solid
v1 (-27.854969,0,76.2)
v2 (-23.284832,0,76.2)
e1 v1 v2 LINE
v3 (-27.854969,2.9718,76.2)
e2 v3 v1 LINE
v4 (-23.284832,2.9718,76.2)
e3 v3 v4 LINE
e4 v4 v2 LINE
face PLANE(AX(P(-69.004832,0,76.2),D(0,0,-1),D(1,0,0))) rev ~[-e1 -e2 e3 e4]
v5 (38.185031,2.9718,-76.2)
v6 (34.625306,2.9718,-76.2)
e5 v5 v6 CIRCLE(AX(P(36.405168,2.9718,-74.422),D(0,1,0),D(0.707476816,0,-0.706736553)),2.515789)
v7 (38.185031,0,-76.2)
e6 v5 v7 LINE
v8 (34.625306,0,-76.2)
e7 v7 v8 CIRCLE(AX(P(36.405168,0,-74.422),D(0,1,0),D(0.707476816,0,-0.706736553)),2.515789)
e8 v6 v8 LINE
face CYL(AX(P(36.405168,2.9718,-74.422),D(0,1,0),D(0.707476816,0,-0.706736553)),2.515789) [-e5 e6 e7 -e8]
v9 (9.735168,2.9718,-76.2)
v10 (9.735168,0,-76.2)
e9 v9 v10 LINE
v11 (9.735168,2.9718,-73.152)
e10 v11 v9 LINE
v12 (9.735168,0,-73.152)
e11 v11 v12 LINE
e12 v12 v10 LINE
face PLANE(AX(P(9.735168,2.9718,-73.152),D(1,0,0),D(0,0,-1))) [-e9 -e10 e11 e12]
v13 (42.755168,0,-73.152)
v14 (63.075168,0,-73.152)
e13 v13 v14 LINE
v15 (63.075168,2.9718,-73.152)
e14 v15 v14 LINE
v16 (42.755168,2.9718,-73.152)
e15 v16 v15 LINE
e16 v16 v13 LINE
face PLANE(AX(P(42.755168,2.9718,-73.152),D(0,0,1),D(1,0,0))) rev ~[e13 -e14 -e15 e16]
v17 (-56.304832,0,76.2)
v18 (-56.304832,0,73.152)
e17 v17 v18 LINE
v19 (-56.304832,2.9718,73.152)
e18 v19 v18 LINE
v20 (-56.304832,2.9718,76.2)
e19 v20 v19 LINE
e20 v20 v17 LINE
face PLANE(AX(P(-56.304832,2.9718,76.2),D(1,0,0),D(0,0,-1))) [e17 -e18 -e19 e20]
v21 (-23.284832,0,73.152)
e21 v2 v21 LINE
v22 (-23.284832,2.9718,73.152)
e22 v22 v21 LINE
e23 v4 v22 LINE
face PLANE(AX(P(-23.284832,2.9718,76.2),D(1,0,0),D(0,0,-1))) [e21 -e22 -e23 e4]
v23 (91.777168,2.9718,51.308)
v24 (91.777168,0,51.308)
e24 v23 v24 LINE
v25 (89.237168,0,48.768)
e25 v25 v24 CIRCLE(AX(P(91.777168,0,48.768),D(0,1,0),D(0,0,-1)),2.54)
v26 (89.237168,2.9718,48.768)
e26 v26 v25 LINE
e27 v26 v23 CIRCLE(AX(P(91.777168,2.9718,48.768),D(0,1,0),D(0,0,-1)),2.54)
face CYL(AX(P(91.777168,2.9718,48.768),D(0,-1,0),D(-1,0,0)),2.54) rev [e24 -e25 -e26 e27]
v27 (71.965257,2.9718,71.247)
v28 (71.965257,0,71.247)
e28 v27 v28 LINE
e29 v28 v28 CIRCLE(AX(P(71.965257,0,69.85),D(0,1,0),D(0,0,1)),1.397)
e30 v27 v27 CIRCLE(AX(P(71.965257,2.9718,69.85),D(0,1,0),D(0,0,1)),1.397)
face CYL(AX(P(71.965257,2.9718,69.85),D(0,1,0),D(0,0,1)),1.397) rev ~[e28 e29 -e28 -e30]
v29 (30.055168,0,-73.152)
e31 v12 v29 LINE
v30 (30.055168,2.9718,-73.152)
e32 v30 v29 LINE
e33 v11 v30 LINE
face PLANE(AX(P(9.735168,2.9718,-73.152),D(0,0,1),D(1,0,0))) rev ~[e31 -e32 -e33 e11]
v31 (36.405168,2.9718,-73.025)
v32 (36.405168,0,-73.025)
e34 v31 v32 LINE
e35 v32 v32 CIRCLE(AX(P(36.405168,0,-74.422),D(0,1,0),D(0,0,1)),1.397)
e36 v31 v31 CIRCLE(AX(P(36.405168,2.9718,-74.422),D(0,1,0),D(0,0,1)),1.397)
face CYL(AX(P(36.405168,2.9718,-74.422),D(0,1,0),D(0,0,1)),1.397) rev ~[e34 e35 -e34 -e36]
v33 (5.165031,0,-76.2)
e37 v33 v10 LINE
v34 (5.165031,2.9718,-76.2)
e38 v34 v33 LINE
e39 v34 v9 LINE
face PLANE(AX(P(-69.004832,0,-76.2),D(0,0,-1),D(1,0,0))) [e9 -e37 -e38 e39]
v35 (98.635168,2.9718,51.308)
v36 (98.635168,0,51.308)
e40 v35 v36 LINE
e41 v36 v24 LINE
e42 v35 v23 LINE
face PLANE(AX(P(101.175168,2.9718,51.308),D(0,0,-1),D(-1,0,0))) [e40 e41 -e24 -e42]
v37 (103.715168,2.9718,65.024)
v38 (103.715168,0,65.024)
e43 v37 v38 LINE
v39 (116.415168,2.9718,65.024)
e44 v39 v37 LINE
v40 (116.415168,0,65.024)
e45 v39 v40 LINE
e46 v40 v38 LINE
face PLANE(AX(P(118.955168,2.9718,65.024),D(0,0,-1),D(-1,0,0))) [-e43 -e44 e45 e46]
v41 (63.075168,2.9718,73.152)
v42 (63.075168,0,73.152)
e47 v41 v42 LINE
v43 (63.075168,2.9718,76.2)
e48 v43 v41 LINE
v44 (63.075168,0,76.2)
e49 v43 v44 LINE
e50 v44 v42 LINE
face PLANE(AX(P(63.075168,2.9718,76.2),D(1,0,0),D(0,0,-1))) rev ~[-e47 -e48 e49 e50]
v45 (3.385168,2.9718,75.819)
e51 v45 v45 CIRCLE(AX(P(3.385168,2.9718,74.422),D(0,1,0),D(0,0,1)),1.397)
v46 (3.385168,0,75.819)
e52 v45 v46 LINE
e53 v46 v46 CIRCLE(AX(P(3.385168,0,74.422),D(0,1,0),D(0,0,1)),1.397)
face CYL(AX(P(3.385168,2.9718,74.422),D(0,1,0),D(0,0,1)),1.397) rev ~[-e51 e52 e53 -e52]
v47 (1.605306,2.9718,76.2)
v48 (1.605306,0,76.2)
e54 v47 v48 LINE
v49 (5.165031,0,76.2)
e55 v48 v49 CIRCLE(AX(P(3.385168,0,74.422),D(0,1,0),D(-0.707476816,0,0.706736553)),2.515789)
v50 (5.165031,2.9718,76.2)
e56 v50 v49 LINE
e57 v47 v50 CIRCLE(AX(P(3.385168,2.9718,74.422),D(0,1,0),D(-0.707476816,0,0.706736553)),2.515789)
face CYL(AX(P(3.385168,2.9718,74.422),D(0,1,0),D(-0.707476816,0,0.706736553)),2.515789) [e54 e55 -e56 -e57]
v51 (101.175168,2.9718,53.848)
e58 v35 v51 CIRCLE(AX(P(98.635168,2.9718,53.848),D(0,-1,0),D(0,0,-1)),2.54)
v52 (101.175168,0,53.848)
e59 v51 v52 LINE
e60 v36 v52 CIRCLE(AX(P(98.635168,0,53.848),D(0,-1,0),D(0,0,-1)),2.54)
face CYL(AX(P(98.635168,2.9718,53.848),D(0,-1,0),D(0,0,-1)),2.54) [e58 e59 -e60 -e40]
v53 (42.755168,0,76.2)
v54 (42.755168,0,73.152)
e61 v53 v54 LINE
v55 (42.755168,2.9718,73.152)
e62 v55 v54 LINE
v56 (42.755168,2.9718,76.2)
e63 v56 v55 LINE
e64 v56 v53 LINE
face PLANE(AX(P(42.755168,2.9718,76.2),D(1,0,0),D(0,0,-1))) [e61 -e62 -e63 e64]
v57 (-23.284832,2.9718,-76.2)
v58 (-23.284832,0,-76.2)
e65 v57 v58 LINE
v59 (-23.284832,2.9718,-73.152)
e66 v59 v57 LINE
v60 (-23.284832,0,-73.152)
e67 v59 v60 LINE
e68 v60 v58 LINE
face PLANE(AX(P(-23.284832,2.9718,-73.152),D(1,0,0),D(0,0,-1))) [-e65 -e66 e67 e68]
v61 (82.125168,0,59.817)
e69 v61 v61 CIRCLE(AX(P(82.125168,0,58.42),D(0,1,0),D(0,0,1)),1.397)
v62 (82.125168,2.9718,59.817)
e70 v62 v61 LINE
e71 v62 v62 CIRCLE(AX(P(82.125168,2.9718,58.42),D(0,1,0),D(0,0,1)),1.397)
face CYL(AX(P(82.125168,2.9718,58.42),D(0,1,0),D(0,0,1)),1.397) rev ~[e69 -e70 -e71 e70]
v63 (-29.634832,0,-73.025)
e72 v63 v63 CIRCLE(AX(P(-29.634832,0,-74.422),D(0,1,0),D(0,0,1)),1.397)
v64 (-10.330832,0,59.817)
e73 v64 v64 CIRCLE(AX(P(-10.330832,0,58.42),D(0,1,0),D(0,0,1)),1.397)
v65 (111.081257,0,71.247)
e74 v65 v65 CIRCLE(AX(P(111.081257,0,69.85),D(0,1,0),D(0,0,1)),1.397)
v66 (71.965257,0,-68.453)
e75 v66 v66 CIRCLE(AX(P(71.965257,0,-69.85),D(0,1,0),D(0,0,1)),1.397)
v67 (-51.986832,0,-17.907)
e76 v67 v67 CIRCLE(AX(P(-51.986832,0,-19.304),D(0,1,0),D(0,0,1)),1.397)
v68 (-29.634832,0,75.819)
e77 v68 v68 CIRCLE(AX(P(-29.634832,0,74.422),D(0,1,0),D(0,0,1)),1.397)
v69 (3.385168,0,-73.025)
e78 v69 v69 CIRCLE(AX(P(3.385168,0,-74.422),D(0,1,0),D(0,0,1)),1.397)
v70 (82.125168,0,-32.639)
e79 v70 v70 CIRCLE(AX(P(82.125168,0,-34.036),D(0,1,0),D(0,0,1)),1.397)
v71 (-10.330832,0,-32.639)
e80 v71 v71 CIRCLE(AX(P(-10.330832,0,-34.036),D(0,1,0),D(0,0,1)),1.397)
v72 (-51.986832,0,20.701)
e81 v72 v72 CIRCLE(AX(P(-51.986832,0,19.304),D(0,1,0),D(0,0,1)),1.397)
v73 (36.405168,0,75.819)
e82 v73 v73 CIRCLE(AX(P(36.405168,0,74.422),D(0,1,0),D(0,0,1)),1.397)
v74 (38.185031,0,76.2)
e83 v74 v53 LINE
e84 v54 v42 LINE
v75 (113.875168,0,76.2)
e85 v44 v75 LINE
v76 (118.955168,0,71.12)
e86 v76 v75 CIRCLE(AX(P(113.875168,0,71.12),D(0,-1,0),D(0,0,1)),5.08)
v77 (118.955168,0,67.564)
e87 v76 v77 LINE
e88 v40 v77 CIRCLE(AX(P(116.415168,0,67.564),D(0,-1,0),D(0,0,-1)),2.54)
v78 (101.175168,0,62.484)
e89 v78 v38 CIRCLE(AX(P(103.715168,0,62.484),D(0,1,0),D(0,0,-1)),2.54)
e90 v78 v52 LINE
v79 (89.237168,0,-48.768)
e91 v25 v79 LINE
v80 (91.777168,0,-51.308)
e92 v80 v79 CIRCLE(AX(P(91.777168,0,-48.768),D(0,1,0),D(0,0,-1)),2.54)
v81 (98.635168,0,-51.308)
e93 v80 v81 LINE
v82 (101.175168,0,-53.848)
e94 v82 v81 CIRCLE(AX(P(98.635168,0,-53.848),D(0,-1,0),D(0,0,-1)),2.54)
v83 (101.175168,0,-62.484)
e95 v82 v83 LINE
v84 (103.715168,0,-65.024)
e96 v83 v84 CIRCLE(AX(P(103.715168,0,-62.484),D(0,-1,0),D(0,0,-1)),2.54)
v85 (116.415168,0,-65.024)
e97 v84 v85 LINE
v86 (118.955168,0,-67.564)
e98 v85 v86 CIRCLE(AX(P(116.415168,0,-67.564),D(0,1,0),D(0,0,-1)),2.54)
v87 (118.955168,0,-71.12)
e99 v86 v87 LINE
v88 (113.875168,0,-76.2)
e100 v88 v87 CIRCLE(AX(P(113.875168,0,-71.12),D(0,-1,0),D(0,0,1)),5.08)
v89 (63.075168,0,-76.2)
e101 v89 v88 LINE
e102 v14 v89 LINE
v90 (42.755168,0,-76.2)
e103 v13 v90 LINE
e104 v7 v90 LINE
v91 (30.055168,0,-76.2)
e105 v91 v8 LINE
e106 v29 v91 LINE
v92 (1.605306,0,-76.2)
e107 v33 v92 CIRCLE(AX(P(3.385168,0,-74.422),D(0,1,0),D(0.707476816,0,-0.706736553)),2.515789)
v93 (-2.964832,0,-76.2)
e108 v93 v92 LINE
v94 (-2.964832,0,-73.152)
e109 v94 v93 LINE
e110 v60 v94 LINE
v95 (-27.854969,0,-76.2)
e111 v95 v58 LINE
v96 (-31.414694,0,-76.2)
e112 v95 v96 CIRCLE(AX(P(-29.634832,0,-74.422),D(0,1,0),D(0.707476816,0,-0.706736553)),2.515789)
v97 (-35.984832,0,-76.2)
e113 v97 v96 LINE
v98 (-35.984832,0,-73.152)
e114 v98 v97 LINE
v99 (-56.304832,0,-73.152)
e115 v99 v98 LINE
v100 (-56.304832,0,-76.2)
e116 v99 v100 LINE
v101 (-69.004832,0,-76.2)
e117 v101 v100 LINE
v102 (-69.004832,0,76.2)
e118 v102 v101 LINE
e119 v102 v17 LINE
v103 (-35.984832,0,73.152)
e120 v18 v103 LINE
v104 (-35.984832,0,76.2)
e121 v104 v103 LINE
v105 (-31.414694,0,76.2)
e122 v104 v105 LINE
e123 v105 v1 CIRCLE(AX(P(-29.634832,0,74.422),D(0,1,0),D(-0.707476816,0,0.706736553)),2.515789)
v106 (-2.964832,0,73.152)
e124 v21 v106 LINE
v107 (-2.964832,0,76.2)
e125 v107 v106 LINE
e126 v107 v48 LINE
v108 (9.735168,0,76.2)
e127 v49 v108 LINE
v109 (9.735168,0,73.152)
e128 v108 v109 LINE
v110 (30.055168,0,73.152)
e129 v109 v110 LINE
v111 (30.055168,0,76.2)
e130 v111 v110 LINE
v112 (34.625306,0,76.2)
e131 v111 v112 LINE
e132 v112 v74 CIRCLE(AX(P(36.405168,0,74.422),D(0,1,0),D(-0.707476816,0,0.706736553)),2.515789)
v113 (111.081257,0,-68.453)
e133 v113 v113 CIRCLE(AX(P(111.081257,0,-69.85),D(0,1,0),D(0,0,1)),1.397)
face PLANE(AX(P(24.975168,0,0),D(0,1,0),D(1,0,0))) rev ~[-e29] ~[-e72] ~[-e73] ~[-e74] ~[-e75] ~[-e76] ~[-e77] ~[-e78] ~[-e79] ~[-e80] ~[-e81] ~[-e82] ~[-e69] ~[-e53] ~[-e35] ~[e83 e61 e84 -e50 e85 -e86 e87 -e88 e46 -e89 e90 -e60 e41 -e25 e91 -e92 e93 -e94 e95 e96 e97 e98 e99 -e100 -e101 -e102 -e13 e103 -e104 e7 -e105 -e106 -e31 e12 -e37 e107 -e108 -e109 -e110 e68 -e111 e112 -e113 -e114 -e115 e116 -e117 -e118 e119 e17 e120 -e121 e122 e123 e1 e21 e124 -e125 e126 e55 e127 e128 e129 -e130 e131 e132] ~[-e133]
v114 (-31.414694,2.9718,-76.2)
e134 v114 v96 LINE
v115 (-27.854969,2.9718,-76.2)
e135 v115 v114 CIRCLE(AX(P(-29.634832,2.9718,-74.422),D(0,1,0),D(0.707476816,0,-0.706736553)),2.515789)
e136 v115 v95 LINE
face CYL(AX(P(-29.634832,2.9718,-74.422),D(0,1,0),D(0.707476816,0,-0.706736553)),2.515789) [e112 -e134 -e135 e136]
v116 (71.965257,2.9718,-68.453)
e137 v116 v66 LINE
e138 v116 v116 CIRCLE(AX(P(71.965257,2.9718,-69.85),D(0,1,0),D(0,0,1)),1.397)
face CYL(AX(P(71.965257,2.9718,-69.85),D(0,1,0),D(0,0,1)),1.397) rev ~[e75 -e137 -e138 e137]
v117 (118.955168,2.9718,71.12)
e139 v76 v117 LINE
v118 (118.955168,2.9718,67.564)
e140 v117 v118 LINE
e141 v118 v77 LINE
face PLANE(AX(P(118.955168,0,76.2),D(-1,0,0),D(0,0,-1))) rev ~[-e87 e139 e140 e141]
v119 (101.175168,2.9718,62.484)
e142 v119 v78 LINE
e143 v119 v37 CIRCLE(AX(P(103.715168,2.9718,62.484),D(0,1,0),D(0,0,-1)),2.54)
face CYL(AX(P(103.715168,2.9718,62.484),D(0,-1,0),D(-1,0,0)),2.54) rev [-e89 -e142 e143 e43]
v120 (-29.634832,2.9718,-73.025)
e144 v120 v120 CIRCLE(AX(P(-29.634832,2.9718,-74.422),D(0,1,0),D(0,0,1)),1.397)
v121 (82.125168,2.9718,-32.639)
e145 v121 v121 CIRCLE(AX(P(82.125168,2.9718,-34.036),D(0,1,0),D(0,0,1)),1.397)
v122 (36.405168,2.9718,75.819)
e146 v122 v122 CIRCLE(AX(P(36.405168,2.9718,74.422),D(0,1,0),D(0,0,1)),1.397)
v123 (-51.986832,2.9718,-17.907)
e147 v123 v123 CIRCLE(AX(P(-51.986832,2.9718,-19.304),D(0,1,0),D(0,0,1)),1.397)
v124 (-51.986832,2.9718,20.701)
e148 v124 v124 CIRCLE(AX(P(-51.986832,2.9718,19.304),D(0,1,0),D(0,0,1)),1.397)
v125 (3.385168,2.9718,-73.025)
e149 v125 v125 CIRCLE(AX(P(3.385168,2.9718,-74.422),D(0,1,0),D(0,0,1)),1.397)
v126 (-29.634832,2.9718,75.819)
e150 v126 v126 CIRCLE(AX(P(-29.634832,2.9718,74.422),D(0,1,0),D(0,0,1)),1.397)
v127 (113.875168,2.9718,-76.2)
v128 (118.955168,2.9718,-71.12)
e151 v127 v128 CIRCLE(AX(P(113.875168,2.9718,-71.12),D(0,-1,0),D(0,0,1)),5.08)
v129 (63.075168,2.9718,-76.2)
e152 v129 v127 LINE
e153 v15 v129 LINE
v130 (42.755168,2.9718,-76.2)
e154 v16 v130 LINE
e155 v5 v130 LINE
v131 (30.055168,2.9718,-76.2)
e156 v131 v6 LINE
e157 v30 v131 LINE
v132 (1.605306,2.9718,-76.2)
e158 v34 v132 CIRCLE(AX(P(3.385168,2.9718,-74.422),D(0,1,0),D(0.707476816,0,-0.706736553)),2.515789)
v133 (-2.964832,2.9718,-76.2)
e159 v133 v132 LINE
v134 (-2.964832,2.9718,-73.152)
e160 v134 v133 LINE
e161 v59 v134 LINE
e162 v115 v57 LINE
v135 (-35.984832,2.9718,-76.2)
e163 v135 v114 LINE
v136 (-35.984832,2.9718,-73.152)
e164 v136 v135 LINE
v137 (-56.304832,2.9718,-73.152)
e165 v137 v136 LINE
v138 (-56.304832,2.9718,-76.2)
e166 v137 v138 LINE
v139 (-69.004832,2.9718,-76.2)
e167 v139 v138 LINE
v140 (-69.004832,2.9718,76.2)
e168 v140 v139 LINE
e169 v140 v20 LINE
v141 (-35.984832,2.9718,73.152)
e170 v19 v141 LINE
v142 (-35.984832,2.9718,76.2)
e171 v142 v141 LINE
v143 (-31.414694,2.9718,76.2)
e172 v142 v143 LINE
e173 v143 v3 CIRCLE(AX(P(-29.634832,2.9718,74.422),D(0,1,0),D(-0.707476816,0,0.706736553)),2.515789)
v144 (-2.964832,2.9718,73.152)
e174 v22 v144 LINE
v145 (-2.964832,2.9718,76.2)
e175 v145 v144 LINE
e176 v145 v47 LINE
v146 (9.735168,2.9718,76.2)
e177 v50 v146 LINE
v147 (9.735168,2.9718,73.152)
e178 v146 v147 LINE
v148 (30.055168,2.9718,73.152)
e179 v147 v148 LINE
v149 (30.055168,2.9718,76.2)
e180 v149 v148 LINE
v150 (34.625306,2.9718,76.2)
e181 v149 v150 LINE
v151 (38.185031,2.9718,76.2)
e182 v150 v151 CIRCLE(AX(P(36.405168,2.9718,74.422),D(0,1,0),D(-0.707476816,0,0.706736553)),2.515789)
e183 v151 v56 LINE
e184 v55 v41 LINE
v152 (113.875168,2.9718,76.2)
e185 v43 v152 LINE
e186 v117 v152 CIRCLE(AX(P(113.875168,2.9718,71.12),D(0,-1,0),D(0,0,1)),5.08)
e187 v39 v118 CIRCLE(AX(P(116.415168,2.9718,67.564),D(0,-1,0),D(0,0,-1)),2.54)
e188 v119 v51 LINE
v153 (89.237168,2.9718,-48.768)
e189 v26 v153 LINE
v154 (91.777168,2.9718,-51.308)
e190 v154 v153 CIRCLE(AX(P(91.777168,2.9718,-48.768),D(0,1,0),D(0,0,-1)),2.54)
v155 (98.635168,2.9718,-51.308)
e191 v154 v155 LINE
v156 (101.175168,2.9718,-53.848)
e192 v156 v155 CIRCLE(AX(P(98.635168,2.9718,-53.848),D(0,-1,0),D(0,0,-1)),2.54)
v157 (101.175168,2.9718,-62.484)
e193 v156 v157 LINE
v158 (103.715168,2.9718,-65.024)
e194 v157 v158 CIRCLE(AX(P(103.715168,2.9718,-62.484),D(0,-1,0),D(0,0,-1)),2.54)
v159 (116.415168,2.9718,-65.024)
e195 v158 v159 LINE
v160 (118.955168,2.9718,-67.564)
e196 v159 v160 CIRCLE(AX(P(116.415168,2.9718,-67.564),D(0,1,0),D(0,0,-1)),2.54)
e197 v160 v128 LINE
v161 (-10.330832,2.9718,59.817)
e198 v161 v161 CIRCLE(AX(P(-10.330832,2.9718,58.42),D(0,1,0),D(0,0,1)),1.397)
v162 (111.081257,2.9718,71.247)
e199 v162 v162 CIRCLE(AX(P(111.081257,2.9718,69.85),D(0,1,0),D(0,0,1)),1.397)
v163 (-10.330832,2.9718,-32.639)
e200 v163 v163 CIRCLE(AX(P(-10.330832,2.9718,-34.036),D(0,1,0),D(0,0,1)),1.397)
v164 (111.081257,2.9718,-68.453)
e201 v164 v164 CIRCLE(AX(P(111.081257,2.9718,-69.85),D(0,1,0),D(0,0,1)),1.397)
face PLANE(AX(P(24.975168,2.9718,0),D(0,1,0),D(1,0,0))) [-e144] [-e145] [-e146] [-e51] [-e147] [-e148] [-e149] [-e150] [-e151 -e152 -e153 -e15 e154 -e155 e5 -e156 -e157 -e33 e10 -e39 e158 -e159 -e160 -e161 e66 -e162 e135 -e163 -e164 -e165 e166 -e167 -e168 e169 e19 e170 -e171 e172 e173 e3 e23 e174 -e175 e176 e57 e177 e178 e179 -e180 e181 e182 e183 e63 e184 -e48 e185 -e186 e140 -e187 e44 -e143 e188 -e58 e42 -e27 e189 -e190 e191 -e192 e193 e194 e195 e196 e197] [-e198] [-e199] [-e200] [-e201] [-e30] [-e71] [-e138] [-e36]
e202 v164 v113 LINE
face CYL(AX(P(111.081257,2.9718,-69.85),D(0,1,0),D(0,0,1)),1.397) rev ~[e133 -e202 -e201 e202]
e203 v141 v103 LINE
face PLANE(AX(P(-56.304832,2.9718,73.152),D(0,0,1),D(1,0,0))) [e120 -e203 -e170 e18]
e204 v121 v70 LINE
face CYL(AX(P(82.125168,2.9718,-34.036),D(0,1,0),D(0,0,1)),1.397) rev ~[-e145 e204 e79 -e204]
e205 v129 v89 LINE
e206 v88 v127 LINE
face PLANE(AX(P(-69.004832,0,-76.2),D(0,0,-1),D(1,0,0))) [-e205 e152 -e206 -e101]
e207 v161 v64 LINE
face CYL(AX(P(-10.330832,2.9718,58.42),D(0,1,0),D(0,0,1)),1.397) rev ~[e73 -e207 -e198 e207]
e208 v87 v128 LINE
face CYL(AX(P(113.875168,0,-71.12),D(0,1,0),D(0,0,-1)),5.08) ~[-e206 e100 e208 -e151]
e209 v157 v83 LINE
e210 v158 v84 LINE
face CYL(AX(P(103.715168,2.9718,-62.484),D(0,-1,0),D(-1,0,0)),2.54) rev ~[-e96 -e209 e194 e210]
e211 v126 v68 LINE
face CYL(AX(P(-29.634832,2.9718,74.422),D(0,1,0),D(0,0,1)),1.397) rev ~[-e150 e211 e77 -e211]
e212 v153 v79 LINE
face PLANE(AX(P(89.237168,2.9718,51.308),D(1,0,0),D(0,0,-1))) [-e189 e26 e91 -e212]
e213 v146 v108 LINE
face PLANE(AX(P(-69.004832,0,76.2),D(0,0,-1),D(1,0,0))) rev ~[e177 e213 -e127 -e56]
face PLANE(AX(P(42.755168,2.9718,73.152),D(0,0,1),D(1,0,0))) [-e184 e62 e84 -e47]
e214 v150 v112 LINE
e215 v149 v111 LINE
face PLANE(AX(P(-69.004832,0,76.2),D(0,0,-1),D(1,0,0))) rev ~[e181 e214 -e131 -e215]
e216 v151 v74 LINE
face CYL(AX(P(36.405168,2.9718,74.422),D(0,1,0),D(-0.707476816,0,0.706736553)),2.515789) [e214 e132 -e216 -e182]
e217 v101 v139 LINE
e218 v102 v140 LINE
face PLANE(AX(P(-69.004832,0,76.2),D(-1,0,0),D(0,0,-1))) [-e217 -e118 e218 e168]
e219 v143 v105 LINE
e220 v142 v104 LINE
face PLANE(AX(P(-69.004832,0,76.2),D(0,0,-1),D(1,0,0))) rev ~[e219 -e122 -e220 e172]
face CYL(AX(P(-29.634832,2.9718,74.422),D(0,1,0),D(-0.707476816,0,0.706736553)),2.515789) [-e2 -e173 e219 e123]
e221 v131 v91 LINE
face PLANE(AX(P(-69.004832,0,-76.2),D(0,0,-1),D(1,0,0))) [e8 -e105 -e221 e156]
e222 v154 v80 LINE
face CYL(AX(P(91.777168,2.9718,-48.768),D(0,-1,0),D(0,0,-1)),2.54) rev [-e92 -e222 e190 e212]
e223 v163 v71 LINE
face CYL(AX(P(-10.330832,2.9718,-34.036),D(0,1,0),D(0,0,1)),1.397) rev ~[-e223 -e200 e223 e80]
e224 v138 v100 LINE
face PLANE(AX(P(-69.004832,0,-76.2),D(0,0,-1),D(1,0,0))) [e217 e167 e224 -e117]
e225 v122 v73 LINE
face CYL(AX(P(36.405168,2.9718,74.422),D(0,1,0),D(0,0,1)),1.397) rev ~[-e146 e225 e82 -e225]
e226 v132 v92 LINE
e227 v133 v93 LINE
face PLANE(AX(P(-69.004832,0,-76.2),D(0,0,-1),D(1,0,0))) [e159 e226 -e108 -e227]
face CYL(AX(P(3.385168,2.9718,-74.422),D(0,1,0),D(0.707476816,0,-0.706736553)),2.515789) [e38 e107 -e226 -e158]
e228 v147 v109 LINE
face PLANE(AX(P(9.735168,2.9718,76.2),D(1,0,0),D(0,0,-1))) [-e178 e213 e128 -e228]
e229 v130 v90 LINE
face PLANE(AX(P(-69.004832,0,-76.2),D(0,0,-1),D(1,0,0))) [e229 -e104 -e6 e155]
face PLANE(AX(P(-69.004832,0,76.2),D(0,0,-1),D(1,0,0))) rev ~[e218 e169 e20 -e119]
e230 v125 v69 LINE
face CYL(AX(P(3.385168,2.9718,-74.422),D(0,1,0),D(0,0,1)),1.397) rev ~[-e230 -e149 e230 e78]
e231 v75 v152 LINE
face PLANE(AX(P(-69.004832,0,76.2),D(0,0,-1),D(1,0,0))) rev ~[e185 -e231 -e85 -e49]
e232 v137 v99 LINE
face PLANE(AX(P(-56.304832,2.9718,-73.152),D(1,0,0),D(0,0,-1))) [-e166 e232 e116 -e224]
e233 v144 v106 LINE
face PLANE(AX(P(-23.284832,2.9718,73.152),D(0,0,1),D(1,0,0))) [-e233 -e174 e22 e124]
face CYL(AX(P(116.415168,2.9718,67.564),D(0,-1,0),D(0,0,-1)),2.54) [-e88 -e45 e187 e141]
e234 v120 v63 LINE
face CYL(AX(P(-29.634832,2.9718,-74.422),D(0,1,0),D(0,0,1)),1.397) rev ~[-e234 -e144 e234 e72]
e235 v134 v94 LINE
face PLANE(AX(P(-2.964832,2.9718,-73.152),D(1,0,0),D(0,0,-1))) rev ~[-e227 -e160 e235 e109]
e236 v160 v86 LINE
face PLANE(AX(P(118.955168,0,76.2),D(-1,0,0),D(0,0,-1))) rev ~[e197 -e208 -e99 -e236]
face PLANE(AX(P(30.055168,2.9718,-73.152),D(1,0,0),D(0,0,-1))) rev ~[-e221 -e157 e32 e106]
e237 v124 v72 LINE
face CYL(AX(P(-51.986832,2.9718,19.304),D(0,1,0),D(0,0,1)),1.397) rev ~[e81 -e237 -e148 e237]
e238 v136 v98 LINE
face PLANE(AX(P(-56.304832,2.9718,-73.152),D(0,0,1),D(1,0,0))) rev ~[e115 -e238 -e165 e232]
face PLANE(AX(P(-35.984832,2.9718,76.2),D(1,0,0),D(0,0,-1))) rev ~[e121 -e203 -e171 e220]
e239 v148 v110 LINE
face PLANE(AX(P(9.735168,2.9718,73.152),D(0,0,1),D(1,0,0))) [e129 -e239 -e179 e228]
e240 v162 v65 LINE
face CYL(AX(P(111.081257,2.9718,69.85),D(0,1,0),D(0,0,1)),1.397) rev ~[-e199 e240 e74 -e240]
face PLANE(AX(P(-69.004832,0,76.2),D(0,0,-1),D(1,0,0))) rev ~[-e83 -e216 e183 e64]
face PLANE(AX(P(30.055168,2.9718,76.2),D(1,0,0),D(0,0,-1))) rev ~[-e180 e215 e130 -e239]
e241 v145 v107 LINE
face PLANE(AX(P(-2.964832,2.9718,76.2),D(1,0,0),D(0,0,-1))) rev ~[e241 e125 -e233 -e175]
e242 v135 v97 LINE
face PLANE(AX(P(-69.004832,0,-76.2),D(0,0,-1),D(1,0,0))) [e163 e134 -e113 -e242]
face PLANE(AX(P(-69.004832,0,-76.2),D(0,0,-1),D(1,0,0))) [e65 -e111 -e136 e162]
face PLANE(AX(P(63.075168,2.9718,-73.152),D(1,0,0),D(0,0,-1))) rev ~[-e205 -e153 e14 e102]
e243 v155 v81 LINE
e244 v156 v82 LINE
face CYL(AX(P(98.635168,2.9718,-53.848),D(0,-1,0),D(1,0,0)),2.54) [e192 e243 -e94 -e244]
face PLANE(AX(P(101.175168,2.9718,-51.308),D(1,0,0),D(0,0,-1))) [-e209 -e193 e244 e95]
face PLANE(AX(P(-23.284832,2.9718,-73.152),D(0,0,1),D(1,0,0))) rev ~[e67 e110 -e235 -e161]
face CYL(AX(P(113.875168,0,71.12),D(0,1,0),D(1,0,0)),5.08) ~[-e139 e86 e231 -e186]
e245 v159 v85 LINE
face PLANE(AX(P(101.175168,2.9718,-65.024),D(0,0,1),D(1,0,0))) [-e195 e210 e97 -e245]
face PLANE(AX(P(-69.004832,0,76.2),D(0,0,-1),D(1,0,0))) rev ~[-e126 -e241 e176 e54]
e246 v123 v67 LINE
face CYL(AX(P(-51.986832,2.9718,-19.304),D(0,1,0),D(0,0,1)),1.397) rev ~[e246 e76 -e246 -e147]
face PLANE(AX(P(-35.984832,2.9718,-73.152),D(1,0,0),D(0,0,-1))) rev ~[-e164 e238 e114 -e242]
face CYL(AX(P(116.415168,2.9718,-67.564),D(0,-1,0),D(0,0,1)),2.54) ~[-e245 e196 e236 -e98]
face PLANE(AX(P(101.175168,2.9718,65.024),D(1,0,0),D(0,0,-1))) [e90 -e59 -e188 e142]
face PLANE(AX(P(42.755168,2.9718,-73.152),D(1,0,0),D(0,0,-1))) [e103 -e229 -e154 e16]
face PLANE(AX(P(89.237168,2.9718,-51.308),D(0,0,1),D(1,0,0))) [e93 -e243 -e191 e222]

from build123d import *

# Parameters (mm, degrees)
SKETCH2_W           = 187.96
SKETCH2_H           = 152.4
BOSS_EXTRUDE1_DEPTH = 2.9718
SKETCH4_W           = 20.32
SKETCH4_H           = 3.048
SKETCH4_R           = 1.397
CUT_EXTRUDE1_DEPTH  = 5.08
BOSS_EXTRUDE2_DEPTH = 2.9718
FILLET1_R           = 5.08
CUT_EXTRUDE2_DEPTH  = 5.08
FILLET2_R           = 2.54
FILLET3_R           = 2.54
SKETCH7_R           = 1.397
CUT_EXTRUDE3_DEPTH  = 5.08
FILLET5_R           = 2.54
FILLET6_R           = 2.54


with BuildPart() as part:
    # Sketch2 → Boss-Extrude1 (new body)
    with BuildSketch(Plane(origin=(0, 0, 0), x_dir=(1, 0, 0), z_dir=(0, 1, 0))):
        with Locations((24.975168434, 0)):
            Rectangle(SKETCH2_W, SKETCH2_H)
    extrude(amount=BOSS_EXTRUDE1_DEPTH)

    # Sketch4 → Cut-Extrude1 (cut)
    with BuildSketch(Plane(origin=(0, 2.9718, 0), x_dir=(1, 0, 0), z_dir=(0, 1, 0))):
        with Locations((-46.144831566, -74.676)):
            Rectangle(SKETCH4_W, SKETCH4_H)
        with Locations((-46.144831566, 74.676)):
            Rectangle(SKETCH4_W, SKETCH4_H)
        with Locations((-13.124831566, -74.676)):
            Rectangle(SKETCH4_W, SKETCH4_H)
        with Locations((-13.124831566, 74.676)):
            Rectangle(SKETCH4_W, SKETCH4_H)
        with Locations((19.895168434, -74.676)):
            Rectangle(SKETCH4_W, SKETCH4_H)
        with Locations((19.895168434, 74.676)):
            Rectangle(SKETCH4_W, SKETCH4_H)
        with Locations((52.915168434, -74.676)):
            Rectangle(SKETCH4_W, SKETCH4_H)
        with Locations((52.915168434, 74.676)):
            Rectangle(SKETCH4_W, SKETCH4_H)
        with Locations(Location((82.125168434, -58.42, 0), (0, 0, 270))):
            Circle(SKETCH4_R)
        with Locations(Location((-10.330831566, -58.42, 0), (0, 0, 270))):
            Circle(SKETCH4_R)
        with Locations(Location((36.405168434, 74.422, 0), (0, 0, 270))):
            Circle(SKETCH4_R)
        with Locations(Location((3.385168434, 74.422, 0), (0, 0, 270))):
            Circle(SKETCH4_R)
        with Locations(Location((-29.634831566, 74.422, 0), (0, 0, 270))):
            Circle(SKETCH4_R)
        with Locations(Location((36.405168434, -74.422, 0), (0, 0, 270))):
            Circle(SKETCH4_R)
        with Locations(Location((3.385168434, -74.422, 0), (0, 0, 270))):
            Circle(SKETCH4_R)
        with Locations(Location((-29.634831566, -74.422, 0), (0, 0, 270))):
            Circle(SKETCH4_R)
        with Locations(Location((111.081256794, 69.85, 0), (0, 0, 270))):
            Circle(SKETCH4_R)
        with Locations(Location((111.081256794, -69.85, 0), (0, 0, 270))):
            Circle(SKETCH4_R)
        with Locations(Location((71.965256794, 69.85, 0), (0, 0, 270))):
            Circle(SKETCH4_R)
        with Locations(Location((71.965256794, -69.85, 0), (0, 0, 270))):
            Circle(SKETCH4_R)
        with Locations(Location((82.125168434, 34.036, 0), (0, 0, 270))):
            Circle(SKETCH4_R)
        with Locations(Location((-10.330831566, 34.036, 0), (0, 0, 270))):
            Circle(SKETCH4_R)
    extrude(amount=-CUT_EXTRUDE1_DEPTH, mode=Mode.SUBTRACT)

    # Sketch5 → Boss-Extrude2 (add)
    with BuildSketch(Plane(origin=(0, 2.9718, 0), x_dir=(1, 0, 0), z_dir=(0, 1, 0))):
        with BuildLine():
            ThreePointArc((38.185030781, 76.2), (36.405168434, 76.937788936), (34.625306088, 76.2))
            Line((34.625306088, 76.2), (38.185030781, 76.2))
        make_face()
        with BuildLine():
            Line((1.605306088, 76.2), (5.165030781, 76.2))
            ThreePointArc((5.165030781, 76.2), (3.385168434, 76.937788936), (1.605306088, 76.2))
        make_face()
        with BuildLine():
            Line((-31.414693912, 76.2), (-27.854969219, 76.2))
            ThreePointArc((-27.854969219, 76.2), (-29.634831566, 76.937788936), (-31.414693912, 76.2))
        make_face()
        with BuildLine():
            ThreePointArc((-31.414693912, -76.2), (-29.634831566, -76.937788936), (-27.854969219, -76.2))
            Line((-27.854969219, -76.2), (-31.414693912, -76.2))
        make_face()
        with BuildLine():
            ThreePointArc((1.605306088, -76.2), (3.385168434, -76.937788936), (5.165030781, -76.2))
            Line((5.165030781, -76.2), (1.605306088, -76.2))
        make_face()
        with BuildLine():
            ThreePointArc((34.625306088, -76.2), (36.405168434, -76.937788936), (38.185030781, -76.2))
            Line((38.185030781, -76.2), (34.625306088, -76.2))
        make_face()
    extrude(amount=-BOSS_EXTRUDE2_DEPTH)

    # Fillet1
    fillet1_edges = [part.edges().sort_by_distance(p)[0] for p in [
        (118.955168434, 1.4859, 76.2),
        (118.955168434, 1.4859, -76.2),
    ]]
    fillet(fillet1_edges, radius=FILLET1_R)

    # Sketch6 → Cut-Extrude2 (cut)
    with BuildSketch(Plane(origin=(0, 2.9718, 0), x_dir=(1, 0, 0), z_dir=(0, 1, 0))):
        Polygon((118.955168434, -98.380031514), (118.955168434, -65.024), (101.175168434, -65.024), (101.175168434, -51.308), (89.237168434, -51.308), (89.237168434, 51.308), (101.175168434, 51.308), (101.175168434, 65.024), (118.955168434, 65.024), (118.955168434, 98.380031514), (174.761445674, 98.380031514), (174.761445674, -98.380031514), align=None)
    extrude(amount=-CUT_EXTRUDE2_DEPTH, mode=Mode.SUBTRACT)

    # Fillet2
    fillet2_edges = [part.edges().sort_by_distance(p)[0] for p in [
        (101.175168434, 1.4859, -51.308),
    ]]
    fillet(fillet2_edges, radius=FILLET2_R)

    # Fillet3
    fillet3_edges = [part.edges().sort_by_distance(p)[0] for p in [
        (101.175168434, 1.4859, 65.024),
        (101.175168434, 1.4859, 51.308),
        (118.955168434, 1.4859, 65.024),
        (101.175168434, 1.4859, -65.024),
        (118.955168434, 1.4859, -65.024),
    ]]
    fillet(fillet3_edges, radius=FILLET3_R)

    # Sketch7 → Cut-Extrude3 (cut)
    with BuildSketch(Plane(origin=(0, 2.9718, 0), x_dir=(1, 0, 0), z_dir=(0, 1, 0))):
        with Locations(Location((-51.986831566, 19.304, 0), (0, 0, 270))):
            Circle(SKETCH7_R)
        with Locations(Location((-51.986831566, -19.304, 0), (0, 0, 270))):
            Circle(SKETCH7_R)
    extrude(amount=-CUT_EXTRUDE3_DEPTH, mode=Mode.SUBTRACT)

    # Fillet5
    fillet5_edges = [part.edges().sort_by_distance(p)[0] for p in [
        (89.237168434, 1.4859, -51.308),
    ]]
    fillet(fillet5_edges, radius=FILLET5_R)

    # Fillet6
    fillet6_edges = [part.edges().sort_by_distance(p)[0] for p in [
        (89.237168434, 1.4859, 51.308),
    ]]
    fillet(fillet6_edges, radius=FILLET6_R)


solid = part.part
